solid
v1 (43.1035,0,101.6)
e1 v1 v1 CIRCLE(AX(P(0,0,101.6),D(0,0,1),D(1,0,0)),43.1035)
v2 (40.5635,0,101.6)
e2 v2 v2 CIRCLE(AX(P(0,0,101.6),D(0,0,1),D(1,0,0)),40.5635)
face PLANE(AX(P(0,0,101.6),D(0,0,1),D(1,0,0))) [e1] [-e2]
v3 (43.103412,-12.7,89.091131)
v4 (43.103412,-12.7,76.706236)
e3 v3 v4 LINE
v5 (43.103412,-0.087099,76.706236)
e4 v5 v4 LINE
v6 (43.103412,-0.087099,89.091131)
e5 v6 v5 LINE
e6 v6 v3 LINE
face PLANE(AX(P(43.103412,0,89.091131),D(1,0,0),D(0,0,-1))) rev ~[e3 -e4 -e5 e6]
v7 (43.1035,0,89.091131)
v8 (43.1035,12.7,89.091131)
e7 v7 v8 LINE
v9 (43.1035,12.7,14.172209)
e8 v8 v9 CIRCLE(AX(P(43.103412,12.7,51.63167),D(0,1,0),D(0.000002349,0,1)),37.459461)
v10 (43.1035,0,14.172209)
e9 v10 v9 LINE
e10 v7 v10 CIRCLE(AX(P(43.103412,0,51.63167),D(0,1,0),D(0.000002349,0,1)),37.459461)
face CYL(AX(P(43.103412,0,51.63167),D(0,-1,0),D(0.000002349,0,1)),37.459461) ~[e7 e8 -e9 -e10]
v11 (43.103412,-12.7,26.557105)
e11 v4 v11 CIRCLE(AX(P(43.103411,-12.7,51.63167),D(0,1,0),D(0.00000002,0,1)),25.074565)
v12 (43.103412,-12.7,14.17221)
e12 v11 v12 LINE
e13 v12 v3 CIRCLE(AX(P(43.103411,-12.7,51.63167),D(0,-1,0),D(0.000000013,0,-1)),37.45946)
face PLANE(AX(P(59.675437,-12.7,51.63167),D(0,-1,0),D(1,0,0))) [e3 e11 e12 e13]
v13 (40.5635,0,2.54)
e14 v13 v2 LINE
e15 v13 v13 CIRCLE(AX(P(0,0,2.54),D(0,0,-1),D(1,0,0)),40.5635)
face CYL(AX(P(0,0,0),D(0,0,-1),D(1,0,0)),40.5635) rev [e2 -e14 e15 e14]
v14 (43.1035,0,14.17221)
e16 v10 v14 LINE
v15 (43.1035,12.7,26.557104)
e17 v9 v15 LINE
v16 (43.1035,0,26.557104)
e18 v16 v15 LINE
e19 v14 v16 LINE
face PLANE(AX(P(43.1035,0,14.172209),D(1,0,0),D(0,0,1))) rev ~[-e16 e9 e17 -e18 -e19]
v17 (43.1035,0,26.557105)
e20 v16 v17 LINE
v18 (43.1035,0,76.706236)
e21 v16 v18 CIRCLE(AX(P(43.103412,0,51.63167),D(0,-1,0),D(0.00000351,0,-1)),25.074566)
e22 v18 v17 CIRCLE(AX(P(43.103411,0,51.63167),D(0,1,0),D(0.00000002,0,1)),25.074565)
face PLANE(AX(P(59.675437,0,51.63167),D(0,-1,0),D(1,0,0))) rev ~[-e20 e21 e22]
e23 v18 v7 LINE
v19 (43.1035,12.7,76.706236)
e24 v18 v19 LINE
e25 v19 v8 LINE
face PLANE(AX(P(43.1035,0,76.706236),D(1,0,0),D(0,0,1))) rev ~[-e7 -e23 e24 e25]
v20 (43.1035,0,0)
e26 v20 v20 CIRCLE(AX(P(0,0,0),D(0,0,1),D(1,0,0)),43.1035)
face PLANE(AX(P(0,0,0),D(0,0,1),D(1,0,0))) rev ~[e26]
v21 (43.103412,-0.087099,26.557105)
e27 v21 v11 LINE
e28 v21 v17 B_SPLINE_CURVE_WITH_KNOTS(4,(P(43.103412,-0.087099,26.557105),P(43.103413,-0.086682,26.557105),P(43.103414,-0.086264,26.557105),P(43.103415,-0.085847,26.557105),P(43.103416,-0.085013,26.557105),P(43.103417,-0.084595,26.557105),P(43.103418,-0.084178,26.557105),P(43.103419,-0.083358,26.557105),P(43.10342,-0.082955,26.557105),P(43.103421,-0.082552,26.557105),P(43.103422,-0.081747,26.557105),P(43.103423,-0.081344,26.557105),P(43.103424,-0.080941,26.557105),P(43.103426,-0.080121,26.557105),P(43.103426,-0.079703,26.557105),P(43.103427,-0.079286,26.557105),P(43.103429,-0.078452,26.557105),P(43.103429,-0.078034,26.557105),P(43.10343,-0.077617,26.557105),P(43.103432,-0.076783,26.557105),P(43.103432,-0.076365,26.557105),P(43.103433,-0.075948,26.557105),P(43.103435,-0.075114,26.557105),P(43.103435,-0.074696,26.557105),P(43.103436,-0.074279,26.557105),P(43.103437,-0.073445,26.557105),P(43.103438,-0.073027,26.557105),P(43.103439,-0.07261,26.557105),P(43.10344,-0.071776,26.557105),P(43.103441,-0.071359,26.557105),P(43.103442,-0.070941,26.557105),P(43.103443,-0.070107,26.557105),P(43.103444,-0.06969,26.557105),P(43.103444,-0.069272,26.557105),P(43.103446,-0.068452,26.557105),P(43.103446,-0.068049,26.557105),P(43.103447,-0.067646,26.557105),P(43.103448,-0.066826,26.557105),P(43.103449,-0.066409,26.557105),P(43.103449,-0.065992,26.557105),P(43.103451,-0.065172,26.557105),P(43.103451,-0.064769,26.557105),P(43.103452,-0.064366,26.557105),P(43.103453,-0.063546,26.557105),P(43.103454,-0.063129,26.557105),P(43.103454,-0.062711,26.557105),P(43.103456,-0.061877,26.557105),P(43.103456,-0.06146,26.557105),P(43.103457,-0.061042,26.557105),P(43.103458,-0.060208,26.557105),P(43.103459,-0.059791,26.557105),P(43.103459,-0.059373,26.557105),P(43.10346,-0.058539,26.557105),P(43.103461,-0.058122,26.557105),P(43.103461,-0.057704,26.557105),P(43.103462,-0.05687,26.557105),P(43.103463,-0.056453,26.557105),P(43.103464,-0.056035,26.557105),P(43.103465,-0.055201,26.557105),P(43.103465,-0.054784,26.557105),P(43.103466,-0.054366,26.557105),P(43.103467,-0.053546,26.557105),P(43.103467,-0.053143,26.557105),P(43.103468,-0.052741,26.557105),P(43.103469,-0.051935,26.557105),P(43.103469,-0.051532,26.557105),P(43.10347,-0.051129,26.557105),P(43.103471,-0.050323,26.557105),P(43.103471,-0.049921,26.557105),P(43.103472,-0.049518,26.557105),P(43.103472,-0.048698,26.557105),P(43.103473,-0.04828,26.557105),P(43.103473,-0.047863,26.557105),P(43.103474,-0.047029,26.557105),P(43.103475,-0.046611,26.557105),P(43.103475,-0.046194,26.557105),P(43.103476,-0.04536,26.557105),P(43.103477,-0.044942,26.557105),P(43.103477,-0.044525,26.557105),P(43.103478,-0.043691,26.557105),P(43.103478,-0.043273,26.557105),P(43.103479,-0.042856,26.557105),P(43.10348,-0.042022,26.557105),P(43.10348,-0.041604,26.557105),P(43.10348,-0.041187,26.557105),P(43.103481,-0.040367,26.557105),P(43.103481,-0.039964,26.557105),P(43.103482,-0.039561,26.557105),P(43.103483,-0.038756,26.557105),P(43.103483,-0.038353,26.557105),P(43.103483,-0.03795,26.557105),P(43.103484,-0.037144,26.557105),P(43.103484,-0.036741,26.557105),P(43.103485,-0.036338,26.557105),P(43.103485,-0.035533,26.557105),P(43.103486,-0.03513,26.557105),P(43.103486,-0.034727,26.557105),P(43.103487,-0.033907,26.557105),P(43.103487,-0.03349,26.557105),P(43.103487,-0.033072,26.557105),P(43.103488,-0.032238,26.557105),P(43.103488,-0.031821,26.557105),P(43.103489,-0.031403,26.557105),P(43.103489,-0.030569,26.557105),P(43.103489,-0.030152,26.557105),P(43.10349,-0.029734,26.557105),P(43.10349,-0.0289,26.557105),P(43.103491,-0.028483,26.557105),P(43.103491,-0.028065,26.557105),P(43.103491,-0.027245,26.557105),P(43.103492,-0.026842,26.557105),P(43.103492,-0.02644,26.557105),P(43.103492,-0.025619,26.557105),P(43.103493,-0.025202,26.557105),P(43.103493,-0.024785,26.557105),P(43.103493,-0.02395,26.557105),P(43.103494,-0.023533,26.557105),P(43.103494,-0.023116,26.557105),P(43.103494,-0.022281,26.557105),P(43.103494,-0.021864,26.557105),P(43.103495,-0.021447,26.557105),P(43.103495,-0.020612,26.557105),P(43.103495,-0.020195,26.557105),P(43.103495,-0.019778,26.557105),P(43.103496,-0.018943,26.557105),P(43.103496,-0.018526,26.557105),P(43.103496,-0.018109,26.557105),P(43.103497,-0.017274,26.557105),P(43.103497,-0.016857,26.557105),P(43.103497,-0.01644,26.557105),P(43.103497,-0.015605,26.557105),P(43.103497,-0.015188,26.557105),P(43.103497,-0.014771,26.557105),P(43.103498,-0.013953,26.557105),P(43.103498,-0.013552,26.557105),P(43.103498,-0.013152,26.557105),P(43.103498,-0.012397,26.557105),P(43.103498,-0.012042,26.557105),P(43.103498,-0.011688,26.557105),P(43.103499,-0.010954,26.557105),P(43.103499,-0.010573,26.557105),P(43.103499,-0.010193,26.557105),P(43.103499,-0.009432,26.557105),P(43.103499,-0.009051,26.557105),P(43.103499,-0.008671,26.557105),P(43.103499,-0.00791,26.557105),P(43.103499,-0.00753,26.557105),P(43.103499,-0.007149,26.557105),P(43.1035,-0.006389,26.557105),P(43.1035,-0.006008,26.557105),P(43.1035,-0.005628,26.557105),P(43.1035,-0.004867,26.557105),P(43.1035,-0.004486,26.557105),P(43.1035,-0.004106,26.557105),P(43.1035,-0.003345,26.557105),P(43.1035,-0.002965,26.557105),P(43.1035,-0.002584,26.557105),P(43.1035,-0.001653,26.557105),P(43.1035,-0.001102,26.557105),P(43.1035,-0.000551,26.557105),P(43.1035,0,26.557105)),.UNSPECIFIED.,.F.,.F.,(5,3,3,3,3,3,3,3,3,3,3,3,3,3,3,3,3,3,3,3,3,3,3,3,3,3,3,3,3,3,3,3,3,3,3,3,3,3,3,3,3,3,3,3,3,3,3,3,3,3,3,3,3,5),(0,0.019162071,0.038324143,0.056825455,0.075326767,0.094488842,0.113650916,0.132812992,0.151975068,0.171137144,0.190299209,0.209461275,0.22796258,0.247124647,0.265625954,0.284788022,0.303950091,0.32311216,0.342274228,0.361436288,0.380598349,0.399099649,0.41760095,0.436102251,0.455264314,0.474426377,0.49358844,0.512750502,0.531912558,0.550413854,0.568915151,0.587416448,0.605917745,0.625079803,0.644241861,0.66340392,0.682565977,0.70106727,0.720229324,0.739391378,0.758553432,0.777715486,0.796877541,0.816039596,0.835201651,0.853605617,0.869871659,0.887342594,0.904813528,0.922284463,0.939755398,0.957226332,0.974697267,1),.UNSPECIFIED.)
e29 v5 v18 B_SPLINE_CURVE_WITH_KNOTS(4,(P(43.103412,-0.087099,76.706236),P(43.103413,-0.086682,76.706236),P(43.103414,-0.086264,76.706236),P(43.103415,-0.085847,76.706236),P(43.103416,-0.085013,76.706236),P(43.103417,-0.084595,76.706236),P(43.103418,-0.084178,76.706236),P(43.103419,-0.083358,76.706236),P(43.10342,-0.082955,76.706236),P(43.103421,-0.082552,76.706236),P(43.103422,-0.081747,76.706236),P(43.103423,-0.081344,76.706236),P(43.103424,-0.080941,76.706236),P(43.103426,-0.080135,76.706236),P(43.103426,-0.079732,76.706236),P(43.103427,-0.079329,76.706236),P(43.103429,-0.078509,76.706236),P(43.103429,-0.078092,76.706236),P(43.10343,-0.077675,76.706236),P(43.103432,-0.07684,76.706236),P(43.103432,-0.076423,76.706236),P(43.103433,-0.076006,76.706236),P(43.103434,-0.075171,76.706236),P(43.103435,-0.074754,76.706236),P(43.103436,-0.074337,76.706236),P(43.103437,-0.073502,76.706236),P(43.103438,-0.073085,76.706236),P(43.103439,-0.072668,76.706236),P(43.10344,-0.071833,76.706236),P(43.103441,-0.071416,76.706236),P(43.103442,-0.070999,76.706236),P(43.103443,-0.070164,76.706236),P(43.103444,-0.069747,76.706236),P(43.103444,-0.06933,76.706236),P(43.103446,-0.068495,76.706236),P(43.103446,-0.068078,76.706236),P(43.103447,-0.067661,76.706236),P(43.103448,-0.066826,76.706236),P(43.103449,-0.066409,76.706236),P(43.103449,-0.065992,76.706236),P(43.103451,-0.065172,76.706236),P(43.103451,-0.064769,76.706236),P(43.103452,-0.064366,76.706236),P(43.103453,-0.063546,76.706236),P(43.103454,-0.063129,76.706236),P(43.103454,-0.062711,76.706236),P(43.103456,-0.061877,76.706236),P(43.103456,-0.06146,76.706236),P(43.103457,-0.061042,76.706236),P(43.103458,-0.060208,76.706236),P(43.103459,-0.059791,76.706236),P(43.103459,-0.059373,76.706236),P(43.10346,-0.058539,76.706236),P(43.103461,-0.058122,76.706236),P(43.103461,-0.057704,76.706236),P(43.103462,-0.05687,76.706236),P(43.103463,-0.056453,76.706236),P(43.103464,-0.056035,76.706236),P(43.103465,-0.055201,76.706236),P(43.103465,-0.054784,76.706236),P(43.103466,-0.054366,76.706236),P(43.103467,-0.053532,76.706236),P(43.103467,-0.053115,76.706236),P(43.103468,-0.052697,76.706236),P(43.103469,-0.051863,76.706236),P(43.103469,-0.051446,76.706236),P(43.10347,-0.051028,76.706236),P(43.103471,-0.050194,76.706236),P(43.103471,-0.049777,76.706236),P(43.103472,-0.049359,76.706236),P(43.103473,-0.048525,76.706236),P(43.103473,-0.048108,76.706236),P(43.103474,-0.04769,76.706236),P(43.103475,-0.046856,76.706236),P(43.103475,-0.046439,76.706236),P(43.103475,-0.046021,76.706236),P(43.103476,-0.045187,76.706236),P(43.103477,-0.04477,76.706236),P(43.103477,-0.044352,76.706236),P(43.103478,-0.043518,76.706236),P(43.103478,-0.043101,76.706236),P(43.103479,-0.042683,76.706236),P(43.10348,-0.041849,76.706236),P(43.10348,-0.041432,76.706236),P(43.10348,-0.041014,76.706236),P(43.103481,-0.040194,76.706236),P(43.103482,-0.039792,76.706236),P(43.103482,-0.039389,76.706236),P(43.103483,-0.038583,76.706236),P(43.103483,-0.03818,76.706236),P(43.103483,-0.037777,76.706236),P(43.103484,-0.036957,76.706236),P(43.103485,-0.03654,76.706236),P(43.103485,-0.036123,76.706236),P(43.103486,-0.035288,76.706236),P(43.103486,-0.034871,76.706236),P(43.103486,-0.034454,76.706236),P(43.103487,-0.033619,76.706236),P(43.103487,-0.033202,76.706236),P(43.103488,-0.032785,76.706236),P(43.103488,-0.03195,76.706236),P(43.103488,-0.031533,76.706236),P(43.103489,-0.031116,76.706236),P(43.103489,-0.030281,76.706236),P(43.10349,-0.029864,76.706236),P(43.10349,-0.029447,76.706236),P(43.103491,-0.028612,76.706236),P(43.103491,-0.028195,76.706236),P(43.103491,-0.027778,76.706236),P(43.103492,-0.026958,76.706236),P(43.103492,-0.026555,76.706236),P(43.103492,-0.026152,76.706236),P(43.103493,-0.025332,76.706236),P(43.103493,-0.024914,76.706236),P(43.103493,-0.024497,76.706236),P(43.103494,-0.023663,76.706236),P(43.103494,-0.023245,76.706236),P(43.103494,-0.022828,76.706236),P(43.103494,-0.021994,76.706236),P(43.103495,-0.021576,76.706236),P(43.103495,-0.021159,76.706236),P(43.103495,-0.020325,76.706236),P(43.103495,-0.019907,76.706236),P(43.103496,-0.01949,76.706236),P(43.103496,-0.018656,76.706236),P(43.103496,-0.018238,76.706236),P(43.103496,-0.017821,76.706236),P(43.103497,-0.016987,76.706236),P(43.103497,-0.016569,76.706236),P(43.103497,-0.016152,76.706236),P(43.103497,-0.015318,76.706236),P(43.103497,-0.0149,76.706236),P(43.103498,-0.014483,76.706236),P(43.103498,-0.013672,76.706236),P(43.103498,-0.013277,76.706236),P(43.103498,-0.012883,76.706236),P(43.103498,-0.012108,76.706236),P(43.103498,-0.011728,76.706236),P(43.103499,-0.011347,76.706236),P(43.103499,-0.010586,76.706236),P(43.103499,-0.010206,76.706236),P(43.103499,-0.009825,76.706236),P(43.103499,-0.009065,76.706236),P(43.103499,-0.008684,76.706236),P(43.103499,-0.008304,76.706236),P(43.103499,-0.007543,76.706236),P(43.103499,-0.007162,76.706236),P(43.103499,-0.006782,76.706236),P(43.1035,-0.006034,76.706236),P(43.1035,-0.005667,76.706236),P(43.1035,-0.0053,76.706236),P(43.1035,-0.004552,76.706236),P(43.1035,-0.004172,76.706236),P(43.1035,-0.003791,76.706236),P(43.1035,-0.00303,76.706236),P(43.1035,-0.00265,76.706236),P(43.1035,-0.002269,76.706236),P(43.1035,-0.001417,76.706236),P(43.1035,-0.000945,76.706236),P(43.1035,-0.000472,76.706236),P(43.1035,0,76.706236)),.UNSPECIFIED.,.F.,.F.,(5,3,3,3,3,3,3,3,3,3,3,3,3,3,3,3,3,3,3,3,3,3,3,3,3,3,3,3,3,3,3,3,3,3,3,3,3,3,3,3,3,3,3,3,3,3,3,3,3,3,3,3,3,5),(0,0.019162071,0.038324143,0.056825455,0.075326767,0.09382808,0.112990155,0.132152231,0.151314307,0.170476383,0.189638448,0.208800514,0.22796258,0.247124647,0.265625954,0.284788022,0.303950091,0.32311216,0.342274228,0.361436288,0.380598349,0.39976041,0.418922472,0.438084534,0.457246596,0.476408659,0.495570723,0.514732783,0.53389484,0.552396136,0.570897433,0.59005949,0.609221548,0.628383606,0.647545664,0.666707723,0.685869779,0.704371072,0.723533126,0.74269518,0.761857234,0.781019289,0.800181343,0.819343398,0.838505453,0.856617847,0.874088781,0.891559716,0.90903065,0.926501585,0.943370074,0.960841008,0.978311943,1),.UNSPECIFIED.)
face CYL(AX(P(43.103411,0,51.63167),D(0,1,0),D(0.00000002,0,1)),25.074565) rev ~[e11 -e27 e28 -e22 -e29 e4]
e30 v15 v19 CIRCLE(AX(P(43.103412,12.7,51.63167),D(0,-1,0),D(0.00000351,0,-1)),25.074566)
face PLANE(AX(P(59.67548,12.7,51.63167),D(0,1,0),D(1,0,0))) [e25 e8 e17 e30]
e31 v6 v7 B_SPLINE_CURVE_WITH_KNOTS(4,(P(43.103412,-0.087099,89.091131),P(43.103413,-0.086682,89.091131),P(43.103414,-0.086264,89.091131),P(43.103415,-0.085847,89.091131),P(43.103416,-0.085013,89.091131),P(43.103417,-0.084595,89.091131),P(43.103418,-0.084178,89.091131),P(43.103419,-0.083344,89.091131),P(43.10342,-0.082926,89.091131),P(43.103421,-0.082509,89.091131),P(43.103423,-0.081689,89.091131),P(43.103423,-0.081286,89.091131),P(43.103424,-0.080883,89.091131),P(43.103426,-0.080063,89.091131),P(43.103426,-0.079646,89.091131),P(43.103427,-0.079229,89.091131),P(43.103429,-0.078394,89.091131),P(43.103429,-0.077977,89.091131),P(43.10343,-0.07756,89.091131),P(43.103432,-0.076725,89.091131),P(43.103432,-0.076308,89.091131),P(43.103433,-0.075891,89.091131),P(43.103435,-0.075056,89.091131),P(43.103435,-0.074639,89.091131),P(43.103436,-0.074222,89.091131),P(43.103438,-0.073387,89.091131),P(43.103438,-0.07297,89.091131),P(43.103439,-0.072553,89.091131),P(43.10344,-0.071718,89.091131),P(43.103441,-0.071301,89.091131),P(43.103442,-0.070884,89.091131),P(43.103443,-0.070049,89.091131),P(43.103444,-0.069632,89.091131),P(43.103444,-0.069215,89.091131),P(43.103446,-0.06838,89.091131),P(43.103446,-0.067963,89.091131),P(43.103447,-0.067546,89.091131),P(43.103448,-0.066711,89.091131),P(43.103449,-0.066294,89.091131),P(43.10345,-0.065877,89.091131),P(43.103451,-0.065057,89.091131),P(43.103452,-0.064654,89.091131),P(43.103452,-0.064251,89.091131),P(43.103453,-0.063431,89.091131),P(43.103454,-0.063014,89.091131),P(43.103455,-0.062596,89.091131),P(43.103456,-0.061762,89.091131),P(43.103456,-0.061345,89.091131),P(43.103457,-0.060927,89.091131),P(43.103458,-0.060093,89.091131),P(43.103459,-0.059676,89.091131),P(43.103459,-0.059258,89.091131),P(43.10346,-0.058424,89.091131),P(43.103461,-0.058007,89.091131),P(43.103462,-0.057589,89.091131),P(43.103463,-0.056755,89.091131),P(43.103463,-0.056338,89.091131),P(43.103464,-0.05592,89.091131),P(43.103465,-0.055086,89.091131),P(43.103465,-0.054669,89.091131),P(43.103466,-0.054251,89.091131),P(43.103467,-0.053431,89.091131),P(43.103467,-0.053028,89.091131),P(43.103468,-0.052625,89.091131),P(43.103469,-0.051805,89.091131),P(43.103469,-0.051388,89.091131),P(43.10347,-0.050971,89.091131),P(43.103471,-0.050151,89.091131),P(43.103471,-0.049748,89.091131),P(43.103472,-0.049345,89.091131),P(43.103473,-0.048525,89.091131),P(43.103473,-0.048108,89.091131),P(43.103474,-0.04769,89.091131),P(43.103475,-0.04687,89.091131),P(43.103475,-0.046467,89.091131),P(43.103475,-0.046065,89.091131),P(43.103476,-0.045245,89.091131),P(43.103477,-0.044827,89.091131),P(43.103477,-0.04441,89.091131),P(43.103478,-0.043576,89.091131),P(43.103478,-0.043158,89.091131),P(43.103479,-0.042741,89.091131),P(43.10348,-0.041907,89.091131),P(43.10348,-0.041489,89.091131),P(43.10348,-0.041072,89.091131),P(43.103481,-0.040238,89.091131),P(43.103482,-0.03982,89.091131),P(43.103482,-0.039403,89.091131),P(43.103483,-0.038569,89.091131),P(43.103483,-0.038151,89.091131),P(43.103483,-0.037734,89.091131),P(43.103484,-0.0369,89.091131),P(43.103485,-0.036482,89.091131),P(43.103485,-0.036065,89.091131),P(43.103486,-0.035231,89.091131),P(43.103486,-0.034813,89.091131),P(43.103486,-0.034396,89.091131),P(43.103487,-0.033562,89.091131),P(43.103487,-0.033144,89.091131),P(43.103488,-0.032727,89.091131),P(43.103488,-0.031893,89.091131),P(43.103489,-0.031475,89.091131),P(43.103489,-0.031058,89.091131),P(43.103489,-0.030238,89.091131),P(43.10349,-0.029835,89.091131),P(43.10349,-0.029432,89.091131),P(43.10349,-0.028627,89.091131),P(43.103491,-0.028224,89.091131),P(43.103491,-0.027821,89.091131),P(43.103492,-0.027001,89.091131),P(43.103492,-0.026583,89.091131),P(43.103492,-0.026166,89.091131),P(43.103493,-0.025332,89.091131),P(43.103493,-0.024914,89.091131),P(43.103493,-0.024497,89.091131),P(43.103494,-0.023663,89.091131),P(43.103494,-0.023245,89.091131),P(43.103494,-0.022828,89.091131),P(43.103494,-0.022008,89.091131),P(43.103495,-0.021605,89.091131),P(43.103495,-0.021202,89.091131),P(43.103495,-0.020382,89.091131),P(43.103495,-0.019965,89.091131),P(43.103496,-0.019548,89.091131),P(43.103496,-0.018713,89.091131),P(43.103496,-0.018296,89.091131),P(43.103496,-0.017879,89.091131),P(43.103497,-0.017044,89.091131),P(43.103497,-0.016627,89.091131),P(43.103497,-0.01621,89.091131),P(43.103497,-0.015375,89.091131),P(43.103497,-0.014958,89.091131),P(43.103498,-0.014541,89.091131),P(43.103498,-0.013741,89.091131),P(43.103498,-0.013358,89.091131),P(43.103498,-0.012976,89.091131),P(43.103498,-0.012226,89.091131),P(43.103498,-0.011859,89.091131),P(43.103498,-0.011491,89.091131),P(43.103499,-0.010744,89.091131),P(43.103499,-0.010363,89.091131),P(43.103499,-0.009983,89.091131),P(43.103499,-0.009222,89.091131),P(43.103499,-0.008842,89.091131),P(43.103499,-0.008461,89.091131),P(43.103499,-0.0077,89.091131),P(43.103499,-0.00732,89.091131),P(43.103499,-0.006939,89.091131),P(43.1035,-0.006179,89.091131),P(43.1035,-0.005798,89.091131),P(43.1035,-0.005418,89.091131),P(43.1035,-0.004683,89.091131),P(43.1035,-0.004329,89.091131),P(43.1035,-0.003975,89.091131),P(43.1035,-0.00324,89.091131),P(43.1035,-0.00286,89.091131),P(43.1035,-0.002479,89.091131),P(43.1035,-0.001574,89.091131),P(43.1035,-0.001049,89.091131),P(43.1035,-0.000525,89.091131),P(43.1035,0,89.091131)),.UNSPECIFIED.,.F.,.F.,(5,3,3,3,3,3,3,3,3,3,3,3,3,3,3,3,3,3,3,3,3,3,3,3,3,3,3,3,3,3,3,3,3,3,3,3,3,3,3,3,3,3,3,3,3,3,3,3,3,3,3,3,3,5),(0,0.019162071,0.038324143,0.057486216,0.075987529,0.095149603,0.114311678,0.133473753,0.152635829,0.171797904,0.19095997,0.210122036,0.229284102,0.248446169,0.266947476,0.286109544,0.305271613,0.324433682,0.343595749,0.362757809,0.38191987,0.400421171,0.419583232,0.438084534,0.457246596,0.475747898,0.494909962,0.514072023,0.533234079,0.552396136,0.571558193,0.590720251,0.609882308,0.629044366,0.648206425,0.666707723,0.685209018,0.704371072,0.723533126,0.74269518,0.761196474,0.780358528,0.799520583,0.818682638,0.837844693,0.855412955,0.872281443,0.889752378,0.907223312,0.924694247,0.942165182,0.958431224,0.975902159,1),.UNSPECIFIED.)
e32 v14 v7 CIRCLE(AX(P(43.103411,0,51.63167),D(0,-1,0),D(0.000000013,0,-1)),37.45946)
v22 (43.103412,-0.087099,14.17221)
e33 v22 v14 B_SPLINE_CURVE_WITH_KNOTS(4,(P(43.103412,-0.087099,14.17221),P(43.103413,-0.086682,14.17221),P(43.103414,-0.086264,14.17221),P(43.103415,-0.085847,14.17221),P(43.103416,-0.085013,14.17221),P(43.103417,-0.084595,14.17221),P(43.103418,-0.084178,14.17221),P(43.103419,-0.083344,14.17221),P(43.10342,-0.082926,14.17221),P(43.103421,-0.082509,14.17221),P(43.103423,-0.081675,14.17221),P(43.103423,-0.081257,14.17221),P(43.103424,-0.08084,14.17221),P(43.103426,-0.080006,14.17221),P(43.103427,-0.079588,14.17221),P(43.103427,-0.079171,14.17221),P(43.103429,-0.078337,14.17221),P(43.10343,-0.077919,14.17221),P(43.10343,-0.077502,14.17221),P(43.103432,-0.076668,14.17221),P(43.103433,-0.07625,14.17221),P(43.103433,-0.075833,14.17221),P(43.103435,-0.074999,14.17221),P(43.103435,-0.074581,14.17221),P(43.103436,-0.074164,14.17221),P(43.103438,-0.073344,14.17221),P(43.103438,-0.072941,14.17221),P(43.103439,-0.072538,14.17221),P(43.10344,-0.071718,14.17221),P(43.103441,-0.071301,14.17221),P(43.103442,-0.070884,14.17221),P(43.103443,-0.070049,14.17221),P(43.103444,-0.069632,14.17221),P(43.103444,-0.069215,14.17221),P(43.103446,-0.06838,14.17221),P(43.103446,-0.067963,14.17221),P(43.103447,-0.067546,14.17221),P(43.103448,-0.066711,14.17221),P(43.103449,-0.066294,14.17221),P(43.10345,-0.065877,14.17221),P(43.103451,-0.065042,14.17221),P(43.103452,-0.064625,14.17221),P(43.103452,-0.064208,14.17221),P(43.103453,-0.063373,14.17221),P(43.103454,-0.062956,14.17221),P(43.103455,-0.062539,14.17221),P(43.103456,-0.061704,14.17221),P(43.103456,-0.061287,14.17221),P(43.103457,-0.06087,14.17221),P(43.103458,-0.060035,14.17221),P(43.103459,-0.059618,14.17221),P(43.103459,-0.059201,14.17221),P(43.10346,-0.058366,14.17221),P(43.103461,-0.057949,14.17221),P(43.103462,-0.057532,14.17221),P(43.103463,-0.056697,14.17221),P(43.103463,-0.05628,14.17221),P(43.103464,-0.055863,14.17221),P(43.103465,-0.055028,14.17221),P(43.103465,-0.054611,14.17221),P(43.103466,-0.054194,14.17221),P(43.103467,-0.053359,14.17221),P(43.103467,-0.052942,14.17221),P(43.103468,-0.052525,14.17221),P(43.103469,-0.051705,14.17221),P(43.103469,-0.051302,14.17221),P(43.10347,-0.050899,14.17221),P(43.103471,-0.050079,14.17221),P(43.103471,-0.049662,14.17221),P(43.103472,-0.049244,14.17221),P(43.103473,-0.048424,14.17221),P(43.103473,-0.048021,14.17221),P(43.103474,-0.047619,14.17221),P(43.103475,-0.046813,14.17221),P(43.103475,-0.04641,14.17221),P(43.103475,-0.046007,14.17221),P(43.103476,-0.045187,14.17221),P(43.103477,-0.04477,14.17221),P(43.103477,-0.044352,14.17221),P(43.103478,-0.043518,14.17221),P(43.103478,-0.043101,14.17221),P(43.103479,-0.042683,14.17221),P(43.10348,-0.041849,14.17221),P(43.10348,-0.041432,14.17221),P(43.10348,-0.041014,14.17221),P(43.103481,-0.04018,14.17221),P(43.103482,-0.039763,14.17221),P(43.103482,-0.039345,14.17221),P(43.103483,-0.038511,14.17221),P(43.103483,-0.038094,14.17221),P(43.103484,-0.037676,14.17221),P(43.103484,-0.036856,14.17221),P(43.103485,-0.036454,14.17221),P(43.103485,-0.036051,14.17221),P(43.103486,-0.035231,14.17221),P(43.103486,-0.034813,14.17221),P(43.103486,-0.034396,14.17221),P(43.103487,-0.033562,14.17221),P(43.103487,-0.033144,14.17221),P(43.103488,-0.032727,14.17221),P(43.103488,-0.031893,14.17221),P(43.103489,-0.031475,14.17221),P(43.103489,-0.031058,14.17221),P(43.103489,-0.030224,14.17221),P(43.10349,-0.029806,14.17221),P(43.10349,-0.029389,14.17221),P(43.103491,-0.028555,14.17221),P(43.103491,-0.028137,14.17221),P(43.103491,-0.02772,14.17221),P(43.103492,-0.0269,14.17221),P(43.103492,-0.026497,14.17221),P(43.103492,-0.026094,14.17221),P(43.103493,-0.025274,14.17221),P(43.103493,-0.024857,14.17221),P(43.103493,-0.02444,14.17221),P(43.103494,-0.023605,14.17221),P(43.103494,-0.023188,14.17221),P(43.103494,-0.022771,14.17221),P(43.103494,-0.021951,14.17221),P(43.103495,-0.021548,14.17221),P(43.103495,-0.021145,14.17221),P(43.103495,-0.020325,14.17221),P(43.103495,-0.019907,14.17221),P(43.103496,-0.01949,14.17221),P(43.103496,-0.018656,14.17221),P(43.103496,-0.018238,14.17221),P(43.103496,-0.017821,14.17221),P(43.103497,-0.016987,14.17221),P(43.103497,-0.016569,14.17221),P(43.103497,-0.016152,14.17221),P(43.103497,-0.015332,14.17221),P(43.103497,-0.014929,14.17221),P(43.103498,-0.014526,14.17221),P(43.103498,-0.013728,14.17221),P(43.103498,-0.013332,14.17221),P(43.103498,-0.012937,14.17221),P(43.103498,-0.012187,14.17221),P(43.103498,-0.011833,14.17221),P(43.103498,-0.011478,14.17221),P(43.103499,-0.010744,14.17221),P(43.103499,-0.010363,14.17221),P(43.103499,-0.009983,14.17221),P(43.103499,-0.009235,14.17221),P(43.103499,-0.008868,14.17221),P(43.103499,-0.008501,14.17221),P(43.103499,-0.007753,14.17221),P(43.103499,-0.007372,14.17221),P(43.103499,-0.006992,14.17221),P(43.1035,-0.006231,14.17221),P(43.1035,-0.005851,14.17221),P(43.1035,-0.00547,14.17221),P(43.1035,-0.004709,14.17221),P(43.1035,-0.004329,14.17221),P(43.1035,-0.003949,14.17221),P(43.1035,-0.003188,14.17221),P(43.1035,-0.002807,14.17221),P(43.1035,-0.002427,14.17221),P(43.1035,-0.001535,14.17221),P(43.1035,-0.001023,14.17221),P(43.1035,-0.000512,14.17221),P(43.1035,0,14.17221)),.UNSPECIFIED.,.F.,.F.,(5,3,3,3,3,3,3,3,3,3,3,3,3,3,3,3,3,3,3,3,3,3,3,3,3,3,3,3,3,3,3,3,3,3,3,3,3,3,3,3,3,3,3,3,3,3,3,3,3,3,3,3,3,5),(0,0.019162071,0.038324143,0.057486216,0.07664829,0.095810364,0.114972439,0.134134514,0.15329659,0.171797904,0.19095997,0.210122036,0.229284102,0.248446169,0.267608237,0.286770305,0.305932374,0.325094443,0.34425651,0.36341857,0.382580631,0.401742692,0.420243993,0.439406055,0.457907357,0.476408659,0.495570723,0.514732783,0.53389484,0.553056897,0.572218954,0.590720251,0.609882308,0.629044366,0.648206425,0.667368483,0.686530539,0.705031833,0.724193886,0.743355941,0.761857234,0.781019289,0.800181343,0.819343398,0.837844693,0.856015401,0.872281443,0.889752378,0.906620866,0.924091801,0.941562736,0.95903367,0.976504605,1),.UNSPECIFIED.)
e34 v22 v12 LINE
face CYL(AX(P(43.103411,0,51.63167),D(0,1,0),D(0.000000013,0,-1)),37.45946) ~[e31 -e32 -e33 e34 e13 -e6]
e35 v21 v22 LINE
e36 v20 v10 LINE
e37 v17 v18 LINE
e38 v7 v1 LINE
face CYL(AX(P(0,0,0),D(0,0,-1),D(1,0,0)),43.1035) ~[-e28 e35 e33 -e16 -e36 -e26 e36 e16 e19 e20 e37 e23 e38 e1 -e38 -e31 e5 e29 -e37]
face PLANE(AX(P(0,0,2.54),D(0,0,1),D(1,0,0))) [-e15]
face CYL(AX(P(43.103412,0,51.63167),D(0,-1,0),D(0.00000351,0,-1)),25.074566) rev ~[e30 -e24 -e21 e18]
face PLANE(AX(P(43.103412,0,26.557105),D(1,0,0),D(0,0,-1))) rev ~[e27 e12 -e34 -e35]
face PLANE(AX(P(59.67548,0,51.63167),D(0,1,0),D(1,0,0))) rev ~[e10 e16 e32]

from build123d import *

# Parameters (mm, degrees)
F0_R     = 43.1035
F1_DEPTH = 101.6
F3_T     = -2.54
F4_DEPTH = 12.7
F5_DEPTH = 12.7


with BuildPart() as f1:
    # F0 (on Top) → F1 (new body)
    with BuildSketch(Plane.XY):
        Circle(F0_R)
    extrude(amount=F1_DEPTH)

    # F3
    f3_openings = [f1.faces().sort_by_distance(p)[0] for p in [
        (0, 0, 101.6),
    ]]
    offset(amount=F3_T, openings=f3_openings)

    # F2 (on Front) → F4 (join)
    with BuildSketch(Plane.XZ):
        with BuildLine():
            Line((43.103412, 26.557105), (43.103412, 14.17221))
            ThreePointArc((43.103412, 14.17221), (80.562872, 51.63167), (43.103412, 89.091131))
            Line((43.103412, 89.091131), (43.103412, 76.706236))
            ThreePointArc((43.103412, 76.706236), (68.177977, 51.63167), (43.103412, 26.557105))
        make_face()
    extrude(amount=F4_DEPTH)

    # F4_face (on face) → F5 (join)
    with BuildSketch(Plane(origin=(63.268901, 0, 51.63167), x_dir=(1, 0, 0), z_dir=(0, 1, 0))):
        with BuildLine():
            Line((-20.165401, -25.074566), (-20.165401, -37.459461))
            ThreePointArc((-20.165401, -37.459461), (17.293972, 0), (-20.165401, 37.459461))
            Line((-20.165401, 37.459461), (-20.165401, 25.074566))
            ThreePointArc((-20.165401, 25.074566), (4.909077, 0), (-20.165401, -25.074566))
        make_face()
    extrude(amount=F5_DEPTH)


solid = f1.part
